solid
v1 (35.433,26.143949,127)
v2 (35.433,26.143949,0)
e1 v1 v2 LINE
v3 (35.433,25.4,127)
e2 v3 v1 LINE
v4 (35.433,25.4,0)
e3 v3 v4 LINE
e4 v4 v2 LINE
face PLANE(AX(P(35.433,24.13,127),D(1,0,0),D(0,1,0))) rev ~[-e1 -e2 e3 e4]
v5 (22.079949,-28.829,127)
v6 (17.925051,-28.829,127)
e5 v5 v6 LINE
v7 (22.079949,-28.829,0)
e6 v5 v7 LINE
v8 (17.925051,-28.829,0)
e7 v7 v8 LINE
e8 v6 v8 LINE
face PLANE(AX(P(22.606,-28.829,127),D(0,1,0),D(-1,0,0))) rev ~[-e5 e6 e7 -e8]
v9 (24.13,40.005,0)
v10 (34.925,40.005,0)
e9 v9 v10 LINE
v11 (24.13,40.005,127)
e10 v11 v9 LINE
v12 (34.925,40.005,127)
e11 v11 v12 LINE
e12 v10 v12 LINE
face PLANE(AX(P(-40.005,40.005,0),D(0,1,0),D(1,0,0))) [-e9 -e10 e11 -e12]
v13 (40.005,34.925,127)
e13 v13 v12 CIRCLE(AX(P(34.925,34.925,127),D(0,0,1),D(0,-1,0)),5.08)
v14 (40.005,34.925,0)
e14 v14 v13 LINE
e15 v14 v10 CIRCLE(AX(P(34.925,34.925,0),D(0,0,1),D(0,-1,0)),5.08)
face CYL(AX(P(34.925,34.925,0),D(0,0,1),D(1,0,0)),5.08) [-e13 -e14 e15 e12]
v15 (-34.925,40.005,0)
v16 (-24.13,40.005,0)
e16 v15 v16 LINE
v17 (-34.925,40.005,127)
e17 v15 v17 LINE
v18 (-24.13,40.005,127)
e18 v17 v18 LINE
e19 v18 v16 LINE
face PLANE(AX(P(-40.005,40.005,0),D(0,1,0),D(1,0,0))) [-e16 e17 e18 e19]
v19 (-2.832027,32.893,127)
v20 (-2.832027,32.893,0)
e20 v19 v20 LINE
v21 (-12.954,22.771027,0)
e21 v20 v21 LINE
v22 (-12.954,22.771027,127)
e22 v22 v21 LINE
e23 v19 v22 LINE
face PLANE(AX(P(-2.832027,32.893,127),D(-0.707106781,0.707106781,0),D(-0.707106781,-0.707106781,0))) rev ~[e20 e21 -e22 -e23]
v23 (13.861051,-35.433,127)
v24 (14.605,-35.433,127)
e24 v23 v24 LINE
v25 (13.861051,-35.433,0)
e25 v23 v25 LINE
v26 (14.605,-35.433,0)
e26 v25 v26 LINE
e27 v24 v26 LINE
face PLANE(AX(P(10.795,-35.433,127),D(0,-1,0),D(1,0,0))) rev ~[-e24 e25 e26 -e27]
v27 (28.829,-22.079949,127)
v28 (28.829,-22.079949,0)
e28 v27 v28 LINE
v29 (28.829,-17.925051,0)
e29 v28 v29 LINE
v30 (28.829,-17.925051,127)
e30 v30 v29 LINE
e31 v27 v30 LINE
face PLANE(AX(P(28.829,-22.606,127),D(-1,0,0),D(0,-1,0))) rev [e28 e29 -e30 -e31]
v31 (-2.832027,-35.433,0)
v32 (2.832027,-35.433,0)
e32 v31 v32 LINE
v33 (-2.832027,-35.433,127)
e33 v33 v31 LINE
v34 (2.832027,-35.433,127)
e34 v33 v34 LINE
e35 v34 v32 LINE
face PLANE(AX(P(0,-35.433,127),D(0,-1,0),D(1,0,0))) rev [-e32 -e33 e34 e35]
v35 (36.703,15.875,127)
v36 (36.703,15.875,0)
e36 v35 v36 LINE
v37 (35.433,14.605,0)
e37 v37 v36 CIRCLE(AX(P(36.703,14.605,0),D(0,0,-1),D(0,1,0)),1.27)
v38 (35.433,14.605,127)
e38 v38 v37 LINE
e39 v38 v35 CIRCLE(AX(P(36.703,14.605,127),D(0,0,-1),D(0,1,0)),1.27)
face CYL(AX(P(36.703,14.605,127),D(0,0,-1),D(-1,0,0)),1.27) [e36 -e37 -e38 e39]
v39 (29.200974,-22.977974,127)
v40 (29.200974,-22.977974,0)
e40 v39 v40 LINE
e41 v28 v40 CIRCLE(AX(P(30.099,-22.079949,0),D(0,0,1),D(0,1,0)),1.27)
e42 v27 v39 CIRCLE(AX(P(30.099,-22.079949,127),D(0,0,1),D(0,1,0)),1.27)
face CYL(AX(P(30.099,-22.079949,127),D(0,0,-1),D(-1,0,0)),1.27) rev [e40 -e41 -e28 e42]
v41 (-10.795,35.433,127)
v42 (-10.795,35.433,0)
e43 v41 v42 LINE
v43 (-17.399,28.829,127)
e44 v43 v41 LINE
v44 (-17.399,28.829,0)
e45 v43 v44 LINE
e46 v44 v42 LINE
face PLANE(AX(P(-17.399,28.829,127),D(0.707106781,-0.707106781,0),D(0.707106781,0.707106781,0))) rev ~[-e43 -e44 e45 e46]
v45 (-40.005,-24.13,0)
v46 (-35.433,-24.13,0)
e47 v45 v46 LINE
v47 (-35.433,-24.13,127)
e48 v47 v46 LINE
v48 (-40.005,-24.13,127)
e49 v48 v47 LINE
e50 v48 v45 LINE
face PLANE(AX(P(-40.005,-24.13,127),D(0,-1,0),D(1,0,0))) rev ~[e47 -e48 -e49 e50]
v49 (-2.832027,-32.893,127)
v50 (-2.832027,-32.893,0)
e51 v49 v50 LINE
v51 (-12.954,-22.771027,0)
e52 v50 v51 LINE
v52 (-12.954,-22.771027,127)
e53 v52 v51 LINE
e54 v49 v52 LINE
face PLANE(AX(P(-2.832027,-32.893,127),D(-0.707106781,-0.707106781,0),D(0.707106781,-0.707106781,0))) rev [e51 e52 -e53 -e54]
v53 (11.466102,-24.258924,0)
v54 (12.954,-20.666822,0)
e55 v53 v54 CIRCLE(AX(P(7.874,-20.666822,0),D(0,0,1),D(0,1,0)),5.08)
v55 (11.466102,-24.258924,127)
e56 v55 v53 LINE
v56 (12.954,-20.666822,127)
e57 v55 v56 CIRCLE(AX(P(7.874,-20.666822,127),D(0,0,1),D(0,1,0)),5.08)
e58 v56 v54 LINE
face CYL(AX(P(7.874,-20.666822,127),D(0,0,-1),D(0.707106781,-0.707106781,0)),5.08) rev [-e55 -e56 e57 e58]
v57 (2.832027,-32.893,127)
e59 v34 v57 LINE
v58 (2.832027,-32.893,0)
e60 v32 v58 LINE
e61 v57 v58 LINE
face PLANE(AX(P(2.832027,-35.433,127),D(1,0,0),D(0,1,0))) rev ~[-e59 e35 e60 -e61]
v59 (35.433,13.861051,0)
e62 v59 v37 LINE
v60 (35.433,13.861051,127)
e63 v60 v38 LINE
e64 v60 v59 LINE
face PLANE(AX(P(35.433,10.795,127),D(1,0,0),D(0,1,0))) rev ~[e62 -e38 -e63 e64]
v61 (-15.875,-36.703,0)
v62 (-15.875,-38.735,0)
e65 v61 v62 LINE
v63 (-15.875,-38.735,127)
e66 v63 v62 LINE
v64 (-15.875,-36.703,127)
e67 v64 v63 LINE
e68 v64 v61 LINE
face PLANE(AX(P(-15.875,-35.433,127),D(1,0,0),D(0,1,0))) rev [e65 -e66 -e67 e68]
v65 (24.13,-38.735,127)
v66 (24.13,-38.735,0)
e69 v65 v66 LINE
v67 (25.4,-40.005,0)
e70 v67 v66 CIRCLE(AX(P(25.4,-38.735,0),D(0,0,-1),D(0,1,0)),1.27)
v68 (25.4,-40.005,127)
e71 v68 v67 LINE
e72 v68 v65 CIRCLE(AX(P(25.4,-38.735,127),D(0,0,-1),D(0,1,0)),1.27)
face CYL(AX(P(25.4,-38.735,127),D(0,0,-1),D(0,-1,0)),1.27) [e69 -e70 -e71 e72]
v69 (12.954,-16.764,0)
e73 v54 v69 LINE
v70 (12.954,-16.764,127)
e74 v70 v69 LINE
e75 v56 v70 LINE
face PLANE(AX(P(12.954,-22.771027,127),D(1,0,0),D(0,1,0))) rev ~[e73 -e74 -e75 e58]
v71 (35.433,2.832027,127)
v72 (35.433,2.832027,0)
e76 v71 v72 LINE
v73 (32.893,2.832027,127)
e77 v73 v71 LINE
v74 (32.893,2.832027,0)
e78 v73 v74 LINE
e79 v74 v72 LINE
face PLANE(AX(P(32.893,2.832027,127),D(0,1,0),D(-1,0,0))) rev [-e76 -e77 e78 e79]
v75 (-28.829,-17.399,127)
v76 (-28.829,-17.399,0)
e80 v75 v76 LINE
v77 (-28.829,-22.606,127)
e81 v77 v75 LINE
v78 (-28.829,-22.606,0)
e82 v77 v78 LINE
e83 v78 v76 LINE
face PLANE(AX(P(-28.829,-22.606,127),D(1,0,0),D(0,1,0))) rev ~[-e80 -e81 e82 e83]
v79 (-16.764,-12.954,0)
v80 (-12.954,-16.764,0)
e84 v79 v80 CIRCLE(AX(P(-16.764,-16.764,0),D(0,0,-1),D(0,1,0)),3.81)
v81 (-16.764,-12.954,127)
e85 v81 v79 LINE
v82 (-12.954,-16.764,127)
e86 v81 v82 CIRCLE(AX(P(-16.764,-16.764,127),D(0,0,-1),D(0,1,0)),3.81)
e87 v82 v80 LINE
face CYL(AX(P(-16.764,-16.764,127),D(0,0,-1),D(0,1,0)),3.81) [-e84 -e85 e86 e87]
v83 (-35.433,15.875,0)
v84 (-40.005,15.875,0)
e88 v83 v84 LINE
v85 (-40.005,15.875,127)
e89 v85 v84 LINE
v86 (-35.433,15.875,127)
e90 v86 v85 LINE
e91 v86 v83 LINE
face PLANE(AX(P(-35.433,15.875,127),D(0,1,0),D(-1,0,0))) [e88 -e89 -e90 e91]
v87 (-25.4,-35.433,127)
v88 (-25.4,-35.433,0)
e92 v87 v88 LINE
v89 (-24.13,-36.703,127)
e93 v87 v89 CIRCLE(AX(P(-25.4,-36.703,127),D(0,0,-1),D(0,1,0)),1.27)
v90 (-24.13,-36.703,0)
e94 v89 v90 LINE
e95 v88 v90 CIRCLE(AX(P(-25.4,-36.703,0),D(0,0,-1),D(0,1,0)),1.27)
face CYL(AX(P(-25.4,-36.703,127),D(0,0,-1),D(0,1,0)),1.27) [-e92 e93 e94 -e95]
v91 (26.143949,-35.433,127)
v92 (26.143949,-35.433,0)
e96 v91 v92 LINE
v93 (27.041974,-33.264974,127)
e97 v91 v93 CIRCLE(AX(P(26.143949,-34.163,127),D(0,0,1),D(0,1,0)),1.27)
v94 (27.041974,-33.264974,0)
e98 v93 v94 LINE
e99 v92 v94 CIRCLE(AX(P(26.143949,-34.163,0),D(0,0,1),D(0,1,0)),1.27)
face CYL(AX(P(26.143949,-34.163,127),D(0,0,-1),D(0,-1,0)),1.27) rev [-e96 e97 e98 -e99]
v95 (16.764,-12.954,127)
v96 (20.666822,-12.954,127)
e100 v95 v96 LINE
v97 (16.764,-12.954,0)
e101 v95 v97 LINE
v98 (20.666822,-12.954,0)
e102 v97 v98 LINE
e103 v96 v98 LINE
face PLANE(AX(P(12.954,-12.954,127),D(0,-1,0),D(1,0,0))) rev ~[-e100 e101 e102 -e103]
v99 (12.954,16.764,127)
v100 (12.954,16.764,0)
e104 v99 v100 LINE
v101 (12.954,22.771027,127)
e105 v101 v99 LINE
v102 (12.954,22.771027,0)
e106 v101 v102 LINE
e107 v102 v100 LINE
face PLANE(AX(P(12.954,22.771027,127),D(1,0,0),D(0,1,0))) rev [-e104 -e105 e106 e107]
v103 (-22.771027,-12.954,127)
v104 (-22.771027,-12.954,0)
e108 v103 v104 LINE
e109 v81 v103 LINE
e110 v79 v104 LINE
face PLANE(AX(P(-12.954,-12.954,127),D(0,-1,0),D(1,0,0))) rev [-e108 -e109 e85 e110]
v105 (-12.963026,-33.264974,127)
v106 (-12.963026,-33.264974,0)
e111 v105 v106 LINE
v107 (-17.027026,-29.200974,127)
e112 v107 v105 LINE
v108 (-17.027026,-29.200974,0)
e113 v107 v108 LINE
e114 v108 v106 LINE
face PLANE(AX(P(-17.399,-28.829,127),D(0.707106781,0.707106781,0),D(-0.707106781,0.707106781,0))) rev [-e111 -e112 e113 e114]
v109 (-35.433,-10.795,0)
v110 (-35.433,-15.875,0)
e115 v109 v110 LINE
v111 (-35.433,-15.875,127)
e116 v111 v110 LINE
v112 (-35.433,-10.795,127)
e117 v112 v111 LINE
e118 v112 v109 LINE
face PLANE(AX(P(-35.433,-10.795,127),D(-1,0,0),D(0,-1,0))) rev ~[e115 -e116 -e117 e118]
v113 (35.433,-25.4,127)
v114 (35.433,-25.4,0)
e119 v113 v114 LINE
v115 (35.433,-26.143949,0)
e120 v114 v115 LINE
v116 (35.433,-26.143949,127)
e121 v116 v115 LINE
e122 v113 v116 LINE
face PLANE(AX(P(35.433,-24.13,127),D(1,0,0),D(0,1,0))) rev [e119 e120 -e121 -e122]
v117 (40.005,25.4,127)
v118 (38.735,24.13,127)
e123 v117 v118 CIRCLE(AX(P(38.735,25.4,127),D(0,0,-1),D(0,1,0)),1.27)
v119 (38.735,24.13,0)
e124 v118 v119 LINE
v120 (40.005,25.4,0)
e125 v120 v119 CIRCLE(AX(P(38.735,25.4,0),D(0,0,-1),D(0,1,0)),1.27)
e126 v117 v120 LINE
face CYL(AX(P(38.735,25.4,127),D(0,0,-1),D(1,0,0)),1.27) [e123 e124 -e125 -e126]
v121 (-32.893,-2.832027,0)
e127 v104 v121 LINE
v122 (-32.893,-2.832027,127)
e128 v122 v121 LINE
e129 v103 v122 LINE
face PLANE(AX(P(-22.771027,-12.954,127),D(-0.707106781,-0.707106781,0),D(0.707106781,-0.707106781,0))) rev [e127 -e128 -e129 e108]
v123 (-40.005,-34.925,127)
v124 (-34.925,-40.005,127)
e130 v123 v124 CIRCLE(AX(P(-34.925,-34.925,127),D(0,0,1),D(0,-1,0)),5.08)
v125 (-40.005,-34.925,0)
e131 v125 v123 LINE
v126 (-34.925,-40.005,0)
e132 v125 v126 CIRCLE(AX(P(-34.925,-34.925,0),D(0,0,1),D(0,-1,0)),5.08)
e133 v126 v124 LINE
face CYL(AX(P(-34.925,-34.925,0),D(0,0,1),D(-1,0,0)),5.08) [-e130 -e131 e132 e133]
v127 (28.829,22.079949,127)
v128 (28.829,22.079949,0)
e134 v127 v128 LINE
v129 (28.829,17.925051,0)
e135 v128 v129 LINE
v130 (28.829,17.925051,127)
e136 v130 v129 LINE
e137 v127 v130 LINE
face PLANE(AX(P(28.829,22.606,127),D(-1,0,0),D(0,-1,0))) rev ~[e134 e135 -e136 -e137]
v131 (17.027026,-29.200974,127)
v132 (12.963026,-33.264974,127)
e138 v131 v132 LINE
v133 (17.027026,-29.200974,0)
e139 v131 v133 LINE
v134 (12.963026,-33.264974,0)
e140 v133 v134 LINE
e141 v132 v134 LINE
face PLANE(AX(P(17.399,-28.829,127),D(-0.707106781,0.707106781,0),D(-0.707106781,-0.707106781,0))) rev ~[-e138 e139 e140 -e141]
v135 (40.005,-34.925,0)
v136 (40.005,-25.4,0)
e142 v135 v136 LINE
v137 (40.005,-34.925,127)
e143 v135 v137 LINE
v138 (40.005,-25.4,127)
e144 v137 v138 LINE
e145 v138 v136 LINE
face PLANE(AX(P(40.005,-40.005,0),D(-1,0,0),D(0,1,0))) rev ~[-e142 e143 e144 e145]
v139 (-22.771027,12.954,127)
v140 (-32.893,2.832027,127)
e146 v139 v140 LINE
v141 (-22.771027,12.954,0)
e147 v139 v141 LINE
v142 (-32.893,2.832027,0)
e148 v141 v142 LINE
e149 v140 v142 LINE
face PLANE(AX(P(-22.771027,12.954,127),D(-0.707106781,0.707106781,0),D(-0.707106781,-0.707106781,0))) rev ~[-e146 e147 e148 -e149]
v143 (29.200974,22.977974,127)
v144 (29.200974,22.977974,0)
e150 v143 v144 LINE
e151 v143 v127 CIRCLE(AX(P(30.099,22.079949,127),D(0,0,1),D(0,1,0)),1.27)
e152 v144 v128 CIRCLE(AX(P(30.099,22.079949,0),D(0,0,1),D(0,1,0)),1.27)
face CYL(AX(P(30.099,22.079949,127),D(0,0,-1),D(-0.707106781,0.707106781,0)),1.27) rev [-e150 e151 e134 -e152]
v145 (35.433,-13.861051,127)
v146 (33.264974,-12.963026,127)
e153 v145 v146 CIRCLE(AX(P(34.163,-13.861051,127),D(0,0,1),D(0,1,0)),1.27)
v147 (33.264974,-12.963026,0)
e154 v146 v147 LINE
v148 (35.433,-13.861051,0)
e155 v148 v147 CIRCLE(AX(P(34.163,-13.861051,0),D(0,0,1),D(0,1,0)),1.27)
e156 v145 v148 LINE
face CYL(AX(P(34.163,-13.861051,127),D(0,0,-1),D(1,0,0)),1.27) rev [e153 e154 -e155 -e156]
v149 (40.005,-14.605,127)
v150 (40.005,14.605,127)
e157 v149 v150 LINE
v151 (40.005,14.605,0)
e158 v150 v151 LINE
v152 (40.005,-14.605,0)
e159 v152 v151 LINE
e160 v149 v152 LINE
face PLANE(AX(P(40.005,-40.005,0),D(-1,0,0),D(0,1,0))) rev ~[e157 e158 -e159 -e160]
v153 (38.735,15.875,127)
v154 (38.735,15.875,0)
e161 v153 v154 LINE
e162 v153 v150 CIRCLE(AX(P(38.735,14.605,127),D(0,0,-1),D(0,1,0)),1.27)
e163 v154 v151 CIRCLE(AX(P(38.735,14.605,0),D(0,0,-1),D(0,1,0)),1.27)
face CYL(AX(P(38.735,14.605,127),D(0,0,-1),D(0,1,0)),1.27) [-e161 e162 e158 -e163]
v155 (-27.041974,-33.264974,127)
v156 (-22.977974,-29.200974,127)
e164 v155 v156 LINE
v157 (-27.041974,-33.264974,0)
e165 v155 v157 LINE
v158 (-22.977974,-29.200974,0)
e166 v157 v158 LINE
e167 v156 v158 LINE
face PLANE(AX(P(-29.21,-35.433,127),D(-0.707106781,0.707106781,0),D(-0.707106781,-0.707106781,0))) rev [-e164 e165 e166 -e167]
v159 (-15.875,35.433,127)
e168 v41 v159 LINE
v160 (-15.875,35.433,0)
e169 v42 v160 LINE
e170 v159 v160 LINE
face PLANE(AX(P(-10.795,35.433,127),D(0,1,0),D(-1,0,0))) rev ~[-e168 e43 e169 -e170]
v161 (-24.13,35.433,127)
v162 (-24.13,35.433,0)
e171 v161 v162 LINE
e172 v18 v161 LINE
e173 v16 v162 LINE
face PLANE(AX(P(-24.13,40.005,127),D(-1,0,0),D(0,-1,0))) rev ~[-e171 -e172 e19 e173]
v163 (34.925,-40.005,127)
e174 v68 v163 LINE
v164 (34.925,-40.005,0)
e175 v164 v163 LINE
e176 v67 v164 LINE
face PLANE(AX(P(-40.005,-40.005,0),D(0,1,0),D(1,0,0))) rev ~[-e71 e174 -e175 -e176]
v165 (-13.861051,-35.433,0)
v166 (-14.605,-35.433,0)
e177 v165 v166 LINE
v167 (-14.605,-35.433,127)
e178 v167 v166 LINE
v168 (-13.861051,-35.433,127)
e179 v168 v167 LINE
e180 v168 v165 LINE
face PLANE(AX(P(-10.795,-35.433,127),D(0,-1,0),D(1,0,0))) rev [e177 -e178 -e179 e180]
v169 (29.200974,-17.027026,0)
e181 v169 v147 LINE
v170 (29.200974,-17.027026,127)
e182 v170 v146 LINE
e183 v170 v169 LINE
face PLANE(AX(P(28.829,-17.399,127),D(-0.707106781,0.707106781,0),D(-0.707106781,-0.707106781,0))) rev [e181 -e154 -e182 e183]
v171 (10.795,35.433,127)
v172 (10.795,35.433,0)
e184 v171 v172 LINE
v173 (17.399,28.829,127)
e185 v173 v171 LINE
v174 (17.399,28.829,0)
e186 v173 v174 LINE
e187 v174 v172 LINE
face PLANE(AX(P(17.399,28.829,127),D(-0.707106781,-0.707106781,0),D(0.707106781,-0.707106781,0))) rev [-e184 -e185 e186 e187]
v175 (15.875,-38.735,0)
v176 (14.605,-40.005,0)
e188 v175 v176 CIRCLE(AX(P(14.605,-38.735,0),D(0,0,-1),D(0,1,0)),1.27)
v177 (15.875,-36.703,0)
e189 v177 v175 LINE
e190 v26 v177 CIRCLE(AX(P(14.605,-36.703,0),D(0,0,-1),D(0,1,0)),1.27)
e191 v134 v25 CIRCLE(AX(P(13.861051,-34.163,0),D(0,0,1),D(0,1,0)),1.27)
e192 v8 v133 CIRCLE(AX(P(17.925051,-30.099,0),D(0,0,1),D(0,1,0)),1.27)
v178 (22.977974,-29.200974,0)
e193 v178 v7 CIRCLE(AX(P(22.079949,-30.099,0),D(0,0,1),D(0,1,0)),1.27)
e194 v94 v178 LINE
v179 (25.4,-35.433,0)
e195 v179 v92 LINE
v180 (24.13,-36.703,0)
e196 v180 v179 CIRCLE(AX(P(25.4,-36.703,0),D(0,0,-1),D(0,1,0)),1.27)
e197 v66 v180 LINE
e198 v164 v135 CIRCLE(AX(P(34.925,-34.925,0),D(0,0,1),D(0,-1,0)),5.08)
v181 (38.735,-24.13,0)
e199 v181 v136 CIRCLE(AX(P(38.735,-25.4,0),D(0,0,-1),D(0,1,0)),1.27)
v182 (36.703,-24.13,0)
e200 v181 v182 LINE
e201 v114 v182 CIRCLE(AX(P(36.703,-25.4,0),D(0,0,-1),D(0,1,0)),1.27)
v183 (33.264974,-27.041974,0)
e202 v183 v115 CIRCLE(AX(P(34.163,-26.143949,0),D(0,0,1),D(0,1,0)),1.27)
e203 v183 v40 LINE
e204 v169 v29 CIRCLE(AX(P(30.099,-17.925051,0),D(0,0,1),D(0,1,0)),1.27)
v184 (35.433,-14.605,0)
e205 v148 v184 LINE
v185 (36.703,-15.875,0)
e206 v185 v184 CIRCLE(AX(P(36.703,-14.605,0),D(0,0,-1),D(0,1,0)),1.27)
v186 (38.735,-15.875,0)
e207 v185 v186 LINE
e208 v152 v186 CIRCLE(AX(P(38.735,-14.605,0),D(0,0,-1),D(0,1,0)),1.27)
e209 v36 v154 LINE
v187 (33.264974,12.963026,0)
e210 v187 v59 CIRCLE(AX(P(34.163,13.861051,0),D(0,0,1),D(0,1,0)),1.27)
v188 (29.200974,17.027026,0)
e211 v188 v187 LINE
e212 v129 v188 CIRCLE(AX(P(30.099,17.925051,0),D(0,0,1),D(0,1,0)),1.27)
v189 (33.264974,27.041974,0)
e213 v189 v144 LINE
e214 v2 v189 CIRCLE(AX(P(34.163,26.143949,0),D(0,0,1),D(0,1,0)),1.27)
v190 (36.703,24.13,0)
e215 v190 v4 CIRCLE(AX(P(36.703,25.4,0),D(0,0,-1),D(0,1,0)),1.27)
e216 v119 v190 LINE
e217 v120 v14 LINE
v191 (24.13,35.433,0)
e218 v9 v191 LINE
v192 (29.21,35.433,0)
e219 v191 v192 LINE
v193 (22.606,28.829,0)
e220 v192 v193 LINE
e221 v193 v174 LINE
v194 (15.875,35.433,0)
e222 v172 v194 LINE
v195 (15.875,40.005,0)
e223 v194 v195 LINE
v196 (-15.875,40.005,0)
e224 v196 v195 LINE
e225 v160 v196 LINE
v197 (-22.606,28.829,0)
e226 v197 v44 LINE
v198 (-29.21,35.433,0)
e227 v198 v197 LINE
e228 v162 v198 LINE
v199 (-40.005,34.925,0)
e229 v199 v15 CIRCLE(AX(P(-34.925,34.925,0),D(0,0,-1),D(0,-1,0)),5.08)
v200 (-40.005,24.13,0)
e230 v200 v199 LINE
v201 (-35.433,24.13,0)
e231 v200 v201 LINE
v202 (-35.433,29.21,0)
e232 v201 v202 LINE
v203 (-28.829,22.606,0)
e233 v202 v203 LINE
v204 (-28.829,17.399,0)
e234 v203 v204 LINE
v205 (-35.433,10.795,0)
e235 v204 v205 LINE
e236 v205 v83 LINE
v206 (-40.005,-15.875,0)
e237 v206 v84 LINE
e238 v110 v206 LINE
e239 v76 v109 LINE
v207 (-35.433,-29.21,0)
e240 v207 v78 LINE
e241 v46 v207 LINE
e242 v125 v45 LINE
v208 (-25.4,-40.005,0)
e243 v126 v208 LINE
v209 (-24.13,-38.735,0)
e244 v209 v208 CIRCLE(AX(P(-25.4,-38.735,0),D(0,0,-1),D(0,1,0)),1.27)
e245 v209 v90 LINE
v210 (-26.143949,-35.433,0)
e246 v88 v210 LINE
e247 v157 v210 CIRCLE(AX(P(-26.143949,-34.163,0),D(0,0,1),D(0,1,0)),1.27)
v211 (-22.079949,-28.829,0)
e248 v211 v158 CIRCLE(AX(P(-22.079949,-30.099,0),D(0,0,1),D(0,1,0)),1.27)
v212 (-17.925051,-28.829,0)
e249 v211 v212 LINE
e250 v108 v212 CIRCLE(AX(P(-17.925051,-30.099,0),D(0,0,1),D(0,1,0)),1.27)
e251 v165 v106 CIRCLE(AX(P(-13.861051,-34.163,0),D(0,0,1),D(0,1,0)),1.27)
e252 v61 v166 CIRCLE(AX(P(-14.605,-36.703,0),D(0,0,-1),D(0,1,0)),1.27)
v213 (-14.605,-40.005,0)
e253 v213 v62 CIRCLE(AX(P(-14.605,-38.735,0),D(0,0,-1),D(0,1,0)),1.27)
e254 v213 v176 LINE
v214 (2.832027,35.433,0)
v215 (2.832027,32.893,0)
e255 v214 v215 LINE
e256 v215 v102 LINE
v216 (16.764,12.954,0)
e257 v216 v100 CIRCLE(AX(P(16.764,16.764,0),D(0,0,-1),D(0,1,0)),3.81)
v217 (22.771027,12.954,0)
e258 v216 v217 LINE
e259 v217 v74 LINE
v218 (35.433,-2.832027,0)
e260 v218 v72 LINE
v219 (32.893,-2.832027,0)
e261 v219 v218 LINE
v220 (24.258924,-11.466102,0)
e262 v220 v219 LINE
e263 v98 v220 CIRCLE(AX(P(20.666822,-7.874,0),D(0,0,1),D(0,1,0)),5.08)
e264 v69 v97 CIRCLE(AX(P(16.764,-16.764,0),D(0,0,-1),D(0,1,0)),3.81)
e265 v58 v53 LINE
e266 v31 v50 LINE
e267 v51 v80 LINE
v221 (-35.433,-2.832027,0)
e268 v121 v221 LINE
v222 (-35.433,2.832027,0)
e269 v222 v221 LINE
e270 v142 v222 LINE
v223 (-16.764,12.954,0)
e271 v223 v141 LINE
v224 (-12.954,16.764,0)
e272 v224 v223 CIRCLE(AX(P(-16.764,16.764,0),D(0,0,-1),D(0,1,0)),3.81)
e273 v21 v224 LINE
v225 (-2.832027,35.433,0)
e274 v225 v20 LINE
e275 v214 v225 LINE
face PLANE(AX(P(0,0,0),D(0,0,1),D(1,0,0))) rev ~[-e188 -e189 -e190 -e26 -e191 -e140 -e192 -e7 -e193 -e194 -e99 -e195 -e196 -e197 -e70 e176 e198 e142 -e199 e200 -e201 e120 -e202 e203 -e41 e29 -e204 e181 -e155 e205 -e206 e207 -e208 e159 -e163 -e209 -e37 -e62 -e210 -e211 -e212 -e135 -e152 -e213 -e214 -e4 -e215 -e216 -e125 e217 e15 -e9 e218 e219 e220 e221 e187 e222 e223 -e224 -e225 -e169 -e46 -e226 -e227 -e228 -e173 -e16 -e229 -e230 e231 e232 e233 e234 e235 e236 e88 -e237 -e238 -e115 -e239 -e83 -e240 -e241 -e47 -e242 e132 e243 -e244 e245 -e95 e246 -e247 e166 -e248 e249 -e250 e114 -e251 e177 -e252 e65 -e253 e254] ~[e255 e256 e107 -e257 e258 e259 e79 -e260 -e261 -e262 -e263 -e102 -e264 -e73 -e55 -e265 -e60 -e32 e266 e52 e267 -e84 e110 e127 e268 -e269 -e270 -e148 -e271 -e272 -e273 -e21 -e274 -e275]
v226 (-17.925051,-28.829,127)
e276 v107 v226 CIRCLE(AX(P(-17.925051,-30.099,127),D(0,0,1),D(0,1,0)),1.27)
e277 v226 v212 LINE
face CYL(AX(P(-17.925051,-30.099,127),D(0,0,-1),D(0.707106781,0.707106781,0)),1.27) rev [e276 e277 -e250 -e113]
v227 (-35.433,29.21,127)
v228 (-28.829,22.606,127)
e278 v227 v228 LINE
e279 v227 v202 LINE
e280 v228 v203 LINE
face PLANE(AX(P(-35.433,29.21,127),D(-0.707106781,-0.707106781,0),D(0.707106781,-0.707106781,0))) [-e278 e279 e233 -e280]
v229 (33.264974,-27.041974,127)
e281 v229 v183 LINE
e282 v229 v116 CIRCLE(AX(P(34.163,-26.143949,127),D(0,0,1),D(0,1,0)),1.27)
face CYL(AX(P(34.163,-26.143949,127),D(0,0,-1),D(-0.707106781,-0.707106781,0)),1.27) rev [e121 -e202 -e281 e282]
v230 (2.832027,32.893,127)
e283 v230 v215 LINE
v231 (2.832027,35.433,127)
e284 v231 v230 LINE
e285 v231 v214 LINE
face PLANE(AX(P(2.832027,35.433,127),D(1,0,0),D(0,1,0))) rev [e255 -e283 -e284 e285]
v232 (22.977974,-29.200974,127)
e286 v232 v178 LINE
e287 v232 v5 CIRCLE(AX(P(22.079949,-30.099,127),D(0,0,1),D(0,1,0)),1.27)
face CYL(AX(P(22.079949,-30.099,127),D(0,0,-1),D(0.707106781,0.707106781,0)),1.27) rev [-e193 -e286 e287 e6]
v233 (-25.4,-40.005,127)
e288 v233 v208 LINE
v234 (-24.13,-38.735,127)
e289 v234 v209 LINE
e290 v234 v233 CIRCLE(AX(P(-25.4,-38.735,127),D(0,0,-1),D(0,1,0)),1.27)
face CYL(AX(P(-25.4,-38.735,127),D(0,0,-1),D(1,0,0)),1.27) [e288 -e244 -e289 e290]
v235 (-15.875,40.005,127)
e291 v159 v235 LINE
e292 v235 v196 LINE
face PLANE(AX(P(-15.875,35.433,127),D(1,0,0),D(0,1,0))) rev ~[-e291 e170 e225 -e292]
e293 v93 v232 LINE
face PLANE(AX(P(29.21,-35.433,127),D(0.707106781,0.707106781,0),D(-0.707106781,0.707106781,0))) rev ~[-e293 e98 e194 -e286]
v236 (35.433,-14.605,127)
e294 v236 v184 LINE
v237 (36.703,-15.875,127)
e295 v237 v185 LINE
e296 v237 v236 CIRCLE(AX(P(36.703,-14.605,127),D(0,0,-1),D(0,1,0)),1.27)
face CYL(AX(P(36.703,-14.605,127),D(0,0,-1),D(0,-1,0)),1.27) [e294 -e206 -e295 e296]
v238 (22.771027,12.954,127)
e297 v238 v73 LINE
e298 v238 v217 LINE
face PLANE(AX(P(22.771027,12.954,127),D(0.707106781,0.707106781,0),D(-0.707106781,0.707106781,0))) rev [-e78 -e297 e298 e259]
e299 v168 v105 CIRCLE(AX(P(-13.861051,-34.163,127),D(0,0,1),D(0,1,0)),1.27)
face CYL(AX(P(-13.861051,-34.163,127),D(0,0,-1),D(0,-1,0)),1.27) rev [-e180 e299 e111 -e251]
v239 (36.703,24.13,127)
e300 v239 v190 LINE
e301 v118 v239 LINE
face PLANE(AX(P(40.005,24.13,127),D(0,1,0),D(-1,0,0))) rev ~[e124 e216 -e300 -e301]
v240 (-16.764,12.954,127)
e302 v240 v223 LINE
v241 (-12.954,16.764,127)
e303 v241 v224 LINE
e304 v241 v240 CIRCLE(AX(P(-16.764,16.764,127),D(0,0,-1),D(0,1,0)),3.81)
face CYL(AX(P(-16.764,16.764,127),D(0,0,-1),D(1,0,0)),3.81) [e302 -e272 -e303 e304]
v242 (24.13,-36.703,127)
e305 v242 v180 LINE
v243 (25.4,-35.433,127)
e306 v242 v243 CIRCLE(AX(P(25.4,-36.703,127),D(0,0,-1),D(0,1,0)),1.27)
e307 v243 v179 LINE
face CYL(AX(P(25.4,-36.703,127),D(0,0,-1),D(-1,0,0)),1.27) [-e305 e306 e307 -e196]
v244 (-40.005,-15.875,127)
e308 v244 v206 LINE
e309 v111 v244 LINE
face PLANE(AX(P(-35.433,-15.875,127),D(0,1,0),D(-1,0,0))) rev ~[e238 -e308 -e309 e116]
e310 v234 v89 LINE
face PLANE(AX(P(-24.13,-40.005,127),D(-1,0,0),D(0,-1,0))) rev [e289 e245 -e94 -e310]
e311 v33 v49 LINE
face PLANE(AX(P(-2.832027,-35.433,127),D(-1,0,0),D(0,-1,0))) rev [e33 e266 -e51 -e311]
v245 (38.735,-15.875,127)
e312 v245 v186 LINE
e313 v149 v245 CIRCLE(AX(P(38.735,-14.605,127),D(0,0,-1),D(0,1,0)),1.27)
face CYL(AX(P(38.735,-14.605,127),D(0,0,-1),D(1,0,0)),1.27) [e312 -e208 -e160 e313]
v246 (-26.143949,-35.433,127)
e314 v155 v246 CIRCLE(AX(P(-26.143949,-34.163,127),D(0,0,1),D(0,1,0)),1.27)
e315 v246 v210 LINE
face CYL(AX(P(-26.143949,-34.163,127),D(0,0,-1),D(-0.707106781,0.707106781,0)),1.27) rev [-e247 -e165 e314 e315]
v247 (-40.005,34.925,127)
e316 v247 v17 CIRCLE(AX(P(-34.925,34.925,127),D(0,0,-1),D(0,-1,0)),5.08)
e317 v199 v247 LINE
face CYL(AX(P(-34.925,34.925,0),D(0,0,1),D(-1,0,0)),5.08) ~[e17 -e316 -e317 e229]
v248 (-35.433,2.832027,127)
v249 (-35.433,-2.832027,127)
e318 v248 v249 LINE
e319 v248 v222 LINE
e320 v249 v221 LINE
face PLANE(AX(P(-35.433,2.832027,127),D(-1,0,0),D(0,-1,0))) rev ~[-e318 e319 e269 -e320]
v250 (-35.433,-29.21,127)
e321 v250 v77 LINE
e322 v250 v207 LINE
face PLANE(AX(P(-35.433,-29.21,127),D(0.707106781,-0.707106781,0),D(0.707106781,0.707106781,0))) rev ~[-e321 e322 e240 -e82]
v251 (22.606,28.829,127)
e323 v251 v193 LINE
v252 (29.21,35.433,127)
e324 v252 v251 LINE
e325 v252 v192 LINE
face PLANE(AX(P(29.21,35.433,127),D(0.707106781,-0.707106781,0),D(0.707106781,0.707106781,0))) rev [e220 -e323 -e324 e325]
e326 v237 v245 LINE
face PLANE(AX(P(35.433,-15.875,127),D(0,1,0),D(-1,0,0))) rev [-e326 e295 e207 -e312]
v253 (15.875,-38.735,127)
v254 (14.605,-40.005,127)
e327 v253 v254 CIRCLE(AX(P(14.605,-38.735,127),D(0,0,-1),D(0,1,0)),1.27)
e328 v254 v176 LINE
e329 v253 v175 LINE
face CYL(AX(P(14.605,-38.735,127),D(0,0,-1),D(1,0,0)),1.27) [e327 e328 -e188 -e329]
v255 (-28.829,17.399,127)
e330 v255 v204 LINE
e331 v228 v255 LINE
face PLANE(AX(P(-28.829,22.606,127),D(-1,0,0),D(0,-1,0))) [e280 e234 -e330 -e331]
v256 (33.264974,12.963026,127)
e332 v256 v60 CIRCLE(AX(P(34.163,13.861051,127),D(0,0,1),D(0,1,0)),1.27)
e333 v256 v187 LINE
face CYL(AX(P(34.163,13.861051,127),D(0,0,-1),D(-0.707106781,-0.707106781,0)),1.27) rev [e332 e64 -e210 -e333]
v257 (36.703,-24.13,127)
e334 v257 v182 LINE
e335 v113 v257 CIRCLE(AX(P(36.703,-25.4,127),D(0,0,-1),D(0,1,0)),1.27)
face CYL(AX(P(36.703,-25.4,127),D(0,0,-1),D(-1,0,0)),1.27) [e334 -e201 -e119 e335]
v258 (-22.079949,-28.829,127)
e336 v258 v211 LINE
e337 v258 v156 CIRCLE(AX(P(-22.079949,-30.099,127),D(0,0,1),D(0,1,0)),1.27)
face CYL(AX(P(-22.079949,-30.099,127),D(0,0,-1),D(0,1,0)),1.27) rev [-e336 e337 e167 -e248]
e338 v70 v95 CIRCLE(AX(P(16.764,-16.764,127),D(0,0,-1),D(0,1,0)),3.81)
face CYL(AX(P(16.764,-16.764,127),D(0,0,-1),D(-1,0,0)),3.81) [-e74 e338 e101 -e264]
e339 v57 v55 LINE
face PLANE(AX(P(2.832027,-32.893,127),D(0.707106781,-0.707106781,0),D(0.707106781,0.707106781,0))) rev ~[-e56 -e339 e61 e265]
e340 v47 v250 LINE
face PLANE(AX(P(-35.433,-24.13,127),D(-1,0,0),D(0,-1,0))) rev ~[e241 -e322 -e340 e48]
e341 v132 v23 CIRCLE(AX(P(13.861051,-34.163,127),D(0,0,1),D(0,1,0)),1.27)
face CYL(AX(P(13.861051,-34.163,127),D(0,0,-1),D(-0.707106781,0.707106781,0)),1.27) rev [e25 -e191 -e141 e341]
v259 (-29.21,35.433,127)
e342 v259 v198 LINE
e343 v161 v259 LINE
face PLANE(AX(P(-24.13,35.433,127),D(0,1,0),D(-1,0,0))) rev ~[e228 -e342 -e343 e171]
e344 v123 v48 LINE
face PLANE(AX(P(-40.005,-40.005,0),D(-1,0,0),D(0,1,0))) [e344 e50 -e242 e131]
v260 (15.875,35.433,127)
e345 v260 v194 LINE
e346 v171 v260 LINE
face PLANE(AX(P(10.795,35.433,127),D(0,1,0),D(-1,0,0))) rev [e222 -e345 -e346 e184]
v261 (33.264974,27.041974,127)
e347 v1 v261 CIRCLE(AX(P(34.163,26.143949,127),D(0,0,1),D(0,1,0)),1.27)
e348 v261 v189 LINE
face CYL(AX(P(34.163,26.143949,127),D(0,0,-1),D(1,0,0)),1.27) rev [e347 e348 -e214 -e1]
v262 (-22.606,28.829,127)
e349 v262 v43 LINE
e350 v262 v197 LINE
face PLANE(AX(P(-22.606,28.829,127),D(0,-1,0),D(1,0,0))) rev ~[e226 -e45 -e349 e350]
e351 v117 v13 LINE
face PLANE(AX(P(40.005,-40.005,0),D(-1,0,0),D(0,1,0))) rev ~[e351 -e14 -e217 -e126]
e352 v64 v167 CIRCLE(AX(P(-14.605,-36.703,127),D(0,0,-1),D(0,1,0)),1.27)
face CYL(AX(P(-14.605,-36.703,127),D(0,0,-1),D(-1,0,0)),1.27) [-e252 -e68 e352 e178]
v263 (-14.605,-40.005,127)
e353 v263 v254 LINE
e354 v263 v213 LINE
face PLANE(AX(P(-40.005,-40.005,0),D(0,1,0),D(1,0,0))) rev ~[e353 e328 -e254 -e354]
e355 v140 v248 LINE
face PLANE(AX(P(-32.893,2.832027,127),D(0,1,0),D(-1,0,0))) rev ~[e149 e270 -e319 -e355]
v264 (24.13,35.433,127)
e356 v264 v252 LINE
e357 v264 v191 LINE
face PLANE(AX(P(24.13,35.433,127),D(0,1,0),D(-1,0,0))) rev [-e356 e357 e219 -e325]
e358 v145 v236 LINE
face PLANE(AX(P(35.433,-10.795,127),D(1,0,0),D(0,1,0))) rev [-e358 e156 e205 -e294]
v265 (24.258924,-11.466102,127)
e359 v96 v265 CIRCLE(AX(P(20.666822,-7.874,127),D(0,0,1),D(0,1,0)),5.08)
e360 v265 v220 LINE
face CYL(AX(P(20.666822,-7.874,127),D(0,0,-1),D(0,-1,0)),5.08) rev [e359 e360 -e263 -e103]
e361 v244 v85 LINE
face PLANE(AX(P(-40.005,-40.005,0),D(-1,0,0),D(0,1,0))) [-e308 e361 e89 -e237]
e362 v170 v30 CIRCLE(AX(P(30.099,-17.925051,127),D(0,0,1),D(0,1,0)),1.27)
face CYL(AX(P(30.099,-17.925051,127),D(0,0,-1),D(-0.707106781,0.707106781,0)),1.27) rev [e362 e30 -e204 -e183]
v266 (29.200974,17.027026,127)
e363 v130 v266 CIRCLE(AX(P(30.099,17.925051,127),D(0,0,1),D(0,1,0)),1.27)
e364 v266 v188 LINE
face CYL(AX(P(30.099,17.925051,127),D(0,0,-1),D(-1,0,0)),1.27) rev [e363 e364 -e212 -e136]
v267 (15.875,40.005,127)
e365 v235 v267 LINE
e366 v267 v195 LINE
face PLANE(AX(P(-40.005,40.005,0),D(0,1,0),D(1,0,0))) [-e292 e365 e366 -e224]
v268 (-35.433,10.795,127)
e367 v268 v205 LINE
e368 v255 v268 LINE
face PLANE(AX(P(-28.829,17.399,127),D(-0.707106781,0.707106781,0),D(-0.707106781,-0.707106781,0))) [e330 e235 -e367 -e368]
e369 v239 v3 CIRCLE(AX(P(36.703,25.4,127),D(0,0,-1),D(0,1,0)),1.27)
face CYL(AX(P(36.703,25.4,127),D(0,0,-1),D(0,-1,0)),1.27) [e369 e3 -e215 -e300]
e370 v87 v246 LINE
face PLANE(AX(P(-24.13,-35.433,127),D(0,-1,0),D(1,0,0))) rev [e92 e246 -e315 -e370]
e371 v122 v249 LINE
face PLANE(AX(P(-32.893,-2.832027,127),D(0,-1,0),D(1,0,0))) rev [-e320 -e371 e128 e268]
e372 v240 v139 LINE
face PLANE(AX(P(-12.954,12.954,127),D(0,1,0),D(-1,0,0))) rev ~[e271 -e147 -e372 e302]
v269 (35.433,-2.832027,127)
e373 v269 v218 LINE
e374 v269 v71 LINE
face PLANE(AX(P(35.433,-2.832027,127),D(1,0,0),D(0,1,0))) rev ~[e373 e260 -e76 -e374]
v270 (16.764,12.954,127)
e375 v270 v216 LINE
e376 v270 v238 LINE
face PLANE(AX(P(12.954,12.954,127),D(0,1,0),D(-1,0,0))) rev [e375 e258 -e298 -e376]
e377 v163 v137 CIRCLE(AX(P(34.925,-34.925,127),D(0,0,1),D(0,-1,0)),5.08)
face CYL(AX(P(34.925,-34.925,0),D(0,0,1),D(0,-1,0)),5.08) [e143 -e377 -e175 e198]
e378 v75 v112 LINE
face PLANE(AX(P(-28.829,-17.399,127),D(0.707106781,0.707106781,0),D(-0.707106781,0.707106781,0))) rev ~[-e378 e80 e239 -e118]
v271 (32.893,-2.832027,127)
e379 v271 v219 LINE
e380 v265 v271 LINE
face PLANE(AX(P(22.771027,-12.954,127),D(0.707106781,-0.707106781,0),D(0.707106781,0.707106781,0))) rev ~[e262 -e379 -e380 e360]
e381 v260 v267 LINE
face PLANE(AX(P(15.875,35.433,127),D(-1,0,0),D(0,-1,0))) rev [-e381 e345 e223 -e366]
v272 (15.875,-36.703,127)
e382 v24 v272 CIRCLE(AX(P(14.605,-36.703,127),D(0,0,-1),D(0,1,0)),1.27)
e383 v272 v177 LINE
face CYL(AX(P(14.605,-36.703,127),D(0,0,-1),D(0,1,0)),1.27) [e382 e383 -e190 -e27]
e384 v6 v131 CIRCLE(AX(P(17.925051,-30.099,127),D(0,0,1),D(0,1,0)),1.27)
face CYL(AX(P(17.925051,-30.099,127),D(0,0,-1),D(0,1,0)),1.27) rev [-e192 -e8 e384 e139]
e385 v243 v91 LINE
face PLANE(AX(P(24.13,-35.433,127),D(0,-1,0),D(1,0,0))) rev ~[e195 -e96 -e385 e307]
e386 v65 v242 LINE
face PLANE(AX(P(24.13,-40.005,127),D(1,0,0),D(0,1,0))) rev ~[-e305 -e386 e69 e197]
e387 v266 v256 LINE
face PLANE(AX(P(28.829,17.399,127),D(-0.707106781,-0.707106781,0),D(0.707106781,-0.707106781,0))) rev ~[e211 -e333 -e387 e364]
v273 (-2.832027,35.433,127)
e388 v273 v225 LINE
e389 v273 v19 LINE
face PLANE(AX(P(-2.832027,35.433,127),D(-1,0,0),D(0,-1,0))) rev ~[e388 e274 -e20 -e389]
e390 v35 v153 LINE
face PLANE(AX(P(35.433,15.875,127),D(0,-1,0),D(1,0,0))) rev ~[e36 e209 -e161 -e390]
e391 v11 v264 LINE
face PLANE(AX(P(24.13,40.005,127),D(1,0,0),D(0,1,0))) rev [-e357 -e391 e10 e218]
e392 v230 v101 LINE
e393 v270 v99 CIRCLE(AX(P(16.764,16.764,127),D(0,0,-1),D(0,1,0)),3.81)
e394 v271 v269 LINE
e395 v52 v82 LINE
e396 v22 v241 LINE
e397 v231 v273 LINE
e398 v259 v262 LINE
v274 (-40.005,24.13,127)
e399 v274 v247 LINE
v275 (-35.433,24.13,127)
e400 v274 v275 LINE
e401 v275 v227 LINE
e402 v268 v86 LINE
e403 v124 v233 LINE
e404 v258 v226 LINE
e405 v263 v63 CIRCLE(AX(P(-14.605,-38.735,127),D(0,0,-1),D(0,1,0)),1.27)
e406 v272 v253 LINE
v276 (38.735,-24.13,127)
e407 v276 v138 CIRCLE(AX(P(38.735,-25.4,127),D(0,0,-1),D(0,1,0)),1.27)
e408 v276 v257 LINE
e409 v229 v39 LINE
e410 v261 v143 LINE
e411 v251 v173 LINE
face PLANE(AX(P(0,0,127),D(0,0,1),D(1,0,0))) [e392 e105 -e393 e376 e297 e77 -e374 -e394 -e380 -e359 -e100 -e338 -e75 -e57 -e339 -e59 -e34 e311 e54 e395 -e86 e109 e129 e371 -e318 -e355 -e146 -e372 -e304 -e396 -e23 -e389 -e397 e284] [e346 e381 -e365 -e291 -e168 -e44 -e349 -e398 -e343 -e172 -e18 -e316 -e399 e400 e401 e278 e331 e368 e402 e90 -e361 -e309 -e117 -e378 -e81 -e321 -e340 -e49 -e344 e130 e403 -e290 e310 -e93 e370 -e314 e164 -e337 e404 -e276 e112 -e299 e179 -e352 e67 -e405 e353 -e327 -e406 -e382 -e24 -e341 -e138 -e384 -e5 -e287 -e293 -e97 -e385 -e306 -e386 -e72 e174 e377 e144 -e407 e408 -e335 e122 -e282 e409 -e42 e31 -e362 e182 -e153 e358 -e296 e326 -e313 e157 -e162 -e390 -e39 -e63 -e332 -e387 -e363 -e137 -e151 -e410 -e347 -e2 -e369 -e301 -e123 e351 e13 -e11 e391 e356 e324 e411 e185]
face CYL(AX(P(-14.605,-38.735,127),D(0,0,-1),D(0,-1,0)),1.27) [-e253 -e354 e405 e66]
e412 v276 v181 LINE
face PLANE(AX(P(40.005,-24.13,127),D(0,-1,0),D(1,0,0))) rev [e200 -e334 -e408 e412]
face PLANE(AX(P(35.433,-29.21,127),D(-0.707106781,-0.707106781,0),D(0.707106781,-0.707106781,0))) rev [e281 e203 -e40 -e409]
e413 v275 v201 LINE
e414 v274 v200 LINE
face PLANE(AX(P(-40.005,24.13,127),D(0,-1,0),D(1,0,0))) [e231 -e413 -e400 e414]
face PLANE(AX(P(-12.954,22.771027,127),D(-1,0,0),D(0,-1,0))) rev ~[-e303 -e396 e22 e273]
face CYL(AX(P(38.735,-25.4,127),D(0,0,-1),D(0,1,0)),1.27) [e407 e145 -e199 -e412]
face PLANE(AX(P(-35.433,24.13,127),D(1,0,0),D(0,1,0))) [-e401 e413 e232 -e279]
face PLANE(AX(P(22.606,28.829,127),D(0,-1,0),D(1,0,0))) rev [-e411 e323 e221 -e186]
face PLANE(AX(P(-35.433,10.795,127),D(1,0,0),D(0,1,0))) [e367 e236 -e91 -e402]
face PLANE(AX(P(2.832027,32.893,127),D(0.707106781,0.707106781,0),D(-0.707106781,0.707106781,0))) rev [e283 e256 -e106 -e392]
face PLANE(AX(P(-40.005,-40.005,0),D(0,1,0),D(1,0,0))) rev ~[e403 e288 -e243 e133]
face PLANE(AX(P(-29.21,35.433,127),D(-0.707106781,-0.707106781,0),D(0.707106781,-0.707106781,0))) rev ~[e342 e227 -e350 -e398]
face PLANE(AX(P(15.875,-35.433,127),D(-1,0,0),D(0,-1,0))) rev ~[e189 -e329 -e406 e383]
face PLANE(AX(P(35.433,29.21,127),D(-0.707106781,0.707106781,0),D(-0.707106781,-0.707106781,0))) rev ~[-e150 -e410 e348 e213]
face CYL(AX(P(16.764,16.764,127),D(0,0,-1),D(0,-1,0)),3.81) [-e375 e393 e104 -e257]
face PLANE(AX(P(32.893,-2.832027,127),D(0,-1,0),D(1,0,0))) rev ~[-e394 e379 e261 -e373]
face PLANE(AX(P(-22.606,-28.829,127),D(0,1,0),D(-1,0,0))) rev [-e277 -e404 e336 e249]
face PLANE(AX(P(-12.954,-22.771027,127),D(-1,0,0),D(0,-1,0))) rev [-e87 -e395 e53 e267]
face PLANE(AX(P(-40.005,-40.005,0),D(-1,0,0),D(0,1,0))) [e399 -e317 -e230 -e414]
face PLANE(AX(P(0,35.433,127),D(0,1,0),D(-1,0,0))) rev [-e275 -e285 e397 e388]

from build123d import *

# Parameters (mm, degrees)
SKETCH1_W            = 80.01
SKETCH1_H            = 80.01
BOSS_EXTRUDE1_DEPTH  = 127
FILLET1_R            = 5.08
CUT_EXTRUDE1_DEPTH   = 140.031651253
MIRROR2_COPY_1_DEPTH = 140.031651253
MIRROR3_COPY_1_DEPTH = 140.031651253
MIRROR3_COPY_2_DEPTH = 140.031651253
MIRROR3_COPY_3_DEPTH = 140.031651253
FILLET2_R            = 1.27
CUT_EXTRUDE2_DEPTH   = 140.031651253
MIRROR5_COPY_1_DEPTH = 140.031651253
FILLET3_R            = 3.81
FILLET4_R            = 5.08


with BuildPart() as part:
    # Sketch1 → Boss-Extrude1 (new body)
    with BuildSketch(Plane.XY):
        Rectangle(SKETCH1_W, SKETCH1_H)
    extrude(amount=BOSS_EXTRUDE1_DEPTH)

    # Fillet1
    fillet1_edges = [part.edges().sort_by_distance(p)[0] for p in [
        (-40.005, 40.005, 63.5),
        (40.005, 40.005, 63.5),
        (40.005, -40.005, 63.5),
        (-40.005, -40.005, 63.5),
    ]]
    fillet(fillet1_edges, radius=FILLET1_R)

    # Sketch2 → Cut-Extrude1 (cut, through all)
    with BuildSketch(Plane.XY.offset(127)):
        Polygon((24.13, -40.005), (24.13, -35.433), (29.21, -35.433), (22.606, -28.829), (17.399, -28.829), (10.795, -35.433), (15.875, -35.433), (15.875, -40.005), align=None)
    cut_extrude1 = extrude(amount=-CUT_EXTRUDE1_DEPTH, mode=Mode.SUBTRACT)

    # Mirror1: Cut-Extrude1 across plane
    add(cut_extrude1.mirror(Plane(origin=(0, 0, 0), x_dir=(0, 0, 1), z_dir=(1, 0, 0))), mode=Mode.SUBTRACT)

    # Mirror2: Cut-Extrude1 across plane
    add(cut_extrude1.mirror(Plane.ZX), mode=Mode.SUBTRACT)

    # Mirror2 copy 1 sketch → Mirror2 copy 1 (cut, through all)
    with BuildSketch(Plane(origin=(0, 0, 127), x_dir=(-1, 0, 0), z_dir=(0, 0, 1))):
        Polygon((24.13, -40.005), (24.13, -35.433), (29.21, -35.433), (22.606, -28.829), (17.399, -28.829), (10.795, -35.433), (15.875, -35.433), (15.875, -40.005), align=None)
    extrude(amount=-MIRROR2_COPY_1_DEPTH, mode=Mode.SUBTRACT)

    # Mirror3: Cut-Extrude1 across plane
    add(cut_extrude1.mirror(Plane(origin=(0, 0, 0), x_dir=(0, 0, 1), z_dir=(0.7071067811865475, 0.7071067811865477, 0))), mode=Mode.SUBTRACT)

    # Mirror3 copy 1 sketch → Mirror3 copy 1 (cut, through all)
    with BuildSketch(Plane(origin=(0, 0, 127), x_dir=(0, 1, 0), z_dir=(0, 0, 1))):
        Polygon((24.13, -40.005), (24.13, -35.433), (29.21, -35.433), (22.606, -28.829), (17.399, -28.829), (10.795, -35.433), (15.875, -35.433), (15.875, -40.005), align=None)
    extrude(amount=-MIRROR3_COPY_1_DEPTH, mode=Mode.SUBTRACT)

    # Mirror3 copy 2 sketch → Mirror3 copy 2 (cut, through all)
    with BuildSketch(Plane(origin=(0, 0, 127), x_dir=(0, -1, 0), z_dir=(0, 0, 1))):
        Polygon((24.13, -40.005), (24.13, -35.433), (29.21, -35.433), (22.606, -28.829), (17.399, -28.829), (10.795, -35.433), (15.875, -35.433), (15.875, -40.005), align=None)
    extrude(amount=-MIRROR3_COPY_2_DEPTH, mode=Mode.SUBTRACT)

    # Mirror3 copy 3 sketch → Mirror3 copy 3 (cut, through all)
    with BuildSketch(Plane(origin=(0, 0, 127), x_dir=(0, 1, 0), z_dir=(0, 0, 1))):
        Polygon((24.13, 40.005), (24.13, 35.433), (29.21, 35.433), (22.606, 28.829), (17.399, 28.829), (10.795, 35.433), (15.875, 35.433), (15.875, 40.005), align=None)
    extrude(amount=-MIRROR3_COPY_3_DEPTH, mode=Mode.SUBTRACT)

    # Fillet2
    fillet2_edges = [part.edges().sort_by_distance(p)[0] for p in [
        (40.005, 24.13, 63.5),
        (40.005, 15.875, 63.5),
        (35.433, 15.875, 63.5),
        (35.433, 10.795, 63.5),
        (28.829, 17.399, 63.5),
        (28.829, 22.606, 63.5),
        (35.433, 29.21, 63.5),
        (35.433, 24.13, 63.5),
        (40.005, -15.875, 63.5),
        (40.005, -24.13, 63.5),
        (35.433, -24.13, 63.5),
        (35.433, -29.21, 63.5),
        (28.829, -22.606, 63.5),
        (28.829, -17.399, 63.5),
        (35.433, -10.795, 63.5),
        (35.433, -15.875, 63.5),
        (24.13, -40.005, 63.5),
        (15.875, -40.005, 63.5),
        (15.875, -35.433, 63.5),
        (10.795, -35.433, 63.5),
        (17.399, -28.829, 63.5),
        (22.606, -28.829, 63.5),
        (29.21, -35.433, 63.5),
        (24.13, -35.433, 63.5),
        (-15.875, -40.005, 63.5),
        (-24.13, -40.005, 63.5),
        (-24.13, -35.433, 63.5),
        (-29.21, -35.433, 63.5),
        (-22.606, -28.829, 63.5),
        (-17.399, -28.829, 63.5),
        (-10.795, -35.433, 63.5),
        (-15.875, -35.433, 63.5),
    ]]
    fillet(fillet2_edges, radius=FILLET2_R)

    # Sketch5 → Cut-Extrude2 (cut, through all)
    with BuildSketch(Plane.XY.offset(127)):
        Polygon((2.83202674, -32.893), (12.954, -22.77102674), (12.954, -12.954), (22.77102674, -12.954), (32.893, -2.83202674), (35.433, -2.83202674), (35.433, 0), (0, 0), (0, -35.433), (2.83202674, -35.433), align=None)
    cut_extrude2 = extrude(amount=-CUT_EXTRUDE2_DEPTH, mode=Mode.SUBTRACT)

    # Mirror4: Cut-Extrude2 across plane
    add(cut_extrude2.mirror(Plane.ZX), mode=Mode.SUBTRACT)

    # Mirror5: Cut-Extrude2 across plane
    add(cut_extrude2.mirror(Plane(origin=(0, 0, 0), x_dir=(0, 0, 1), z_dir=(1, 0, 0))), mode=Mode.SUBTRACT)

    # Mirror5 copy 1 sketch → Mirror5 copy 1 (cut, through all)
    with BuildSketch(Plane(origin=(0, 0, 127), x_dir=(-1, 0, 0), z_dir=(0, 0, 1))):
        Polygon((2.83202674, -32.893), (12.954, -22.77102674), (12.954, -12.954), (22.77102674, -12.954), (32.893, -2.83202674), (35.433, -2.83202674), (35.433, 0), (0, 0), (0, -35.433), (2.83202674, -35.433), align=None)
    extrude(amount=-MIRROR5_COPY_1_DEPTH, mode=Mode.SUBTRACT)

    # Fillet3
    fillet3_edges = [part.edges().sort_by_distance(p)[0] for p in [
        (12.954, -12.954, 63.5),
        (12.954, 12.954, 63.5),
        (-12.954, 12.954, 63.5),
        (-12.954, -12.954, 63.5),
    ]]
    fillet(fillet3_edges, radius=FILLET3_R)

    # Fillet4
    fillet4_edges = [part.edges().sort_by_distance(p)[0] for p in [
        (22.77102674, -12.954, 63.5),
        (12.954, -22.77102674, 63.5),
    ]]
    fillet(fillet4_edges, radius=FILLET4_R)


solid = part.part
